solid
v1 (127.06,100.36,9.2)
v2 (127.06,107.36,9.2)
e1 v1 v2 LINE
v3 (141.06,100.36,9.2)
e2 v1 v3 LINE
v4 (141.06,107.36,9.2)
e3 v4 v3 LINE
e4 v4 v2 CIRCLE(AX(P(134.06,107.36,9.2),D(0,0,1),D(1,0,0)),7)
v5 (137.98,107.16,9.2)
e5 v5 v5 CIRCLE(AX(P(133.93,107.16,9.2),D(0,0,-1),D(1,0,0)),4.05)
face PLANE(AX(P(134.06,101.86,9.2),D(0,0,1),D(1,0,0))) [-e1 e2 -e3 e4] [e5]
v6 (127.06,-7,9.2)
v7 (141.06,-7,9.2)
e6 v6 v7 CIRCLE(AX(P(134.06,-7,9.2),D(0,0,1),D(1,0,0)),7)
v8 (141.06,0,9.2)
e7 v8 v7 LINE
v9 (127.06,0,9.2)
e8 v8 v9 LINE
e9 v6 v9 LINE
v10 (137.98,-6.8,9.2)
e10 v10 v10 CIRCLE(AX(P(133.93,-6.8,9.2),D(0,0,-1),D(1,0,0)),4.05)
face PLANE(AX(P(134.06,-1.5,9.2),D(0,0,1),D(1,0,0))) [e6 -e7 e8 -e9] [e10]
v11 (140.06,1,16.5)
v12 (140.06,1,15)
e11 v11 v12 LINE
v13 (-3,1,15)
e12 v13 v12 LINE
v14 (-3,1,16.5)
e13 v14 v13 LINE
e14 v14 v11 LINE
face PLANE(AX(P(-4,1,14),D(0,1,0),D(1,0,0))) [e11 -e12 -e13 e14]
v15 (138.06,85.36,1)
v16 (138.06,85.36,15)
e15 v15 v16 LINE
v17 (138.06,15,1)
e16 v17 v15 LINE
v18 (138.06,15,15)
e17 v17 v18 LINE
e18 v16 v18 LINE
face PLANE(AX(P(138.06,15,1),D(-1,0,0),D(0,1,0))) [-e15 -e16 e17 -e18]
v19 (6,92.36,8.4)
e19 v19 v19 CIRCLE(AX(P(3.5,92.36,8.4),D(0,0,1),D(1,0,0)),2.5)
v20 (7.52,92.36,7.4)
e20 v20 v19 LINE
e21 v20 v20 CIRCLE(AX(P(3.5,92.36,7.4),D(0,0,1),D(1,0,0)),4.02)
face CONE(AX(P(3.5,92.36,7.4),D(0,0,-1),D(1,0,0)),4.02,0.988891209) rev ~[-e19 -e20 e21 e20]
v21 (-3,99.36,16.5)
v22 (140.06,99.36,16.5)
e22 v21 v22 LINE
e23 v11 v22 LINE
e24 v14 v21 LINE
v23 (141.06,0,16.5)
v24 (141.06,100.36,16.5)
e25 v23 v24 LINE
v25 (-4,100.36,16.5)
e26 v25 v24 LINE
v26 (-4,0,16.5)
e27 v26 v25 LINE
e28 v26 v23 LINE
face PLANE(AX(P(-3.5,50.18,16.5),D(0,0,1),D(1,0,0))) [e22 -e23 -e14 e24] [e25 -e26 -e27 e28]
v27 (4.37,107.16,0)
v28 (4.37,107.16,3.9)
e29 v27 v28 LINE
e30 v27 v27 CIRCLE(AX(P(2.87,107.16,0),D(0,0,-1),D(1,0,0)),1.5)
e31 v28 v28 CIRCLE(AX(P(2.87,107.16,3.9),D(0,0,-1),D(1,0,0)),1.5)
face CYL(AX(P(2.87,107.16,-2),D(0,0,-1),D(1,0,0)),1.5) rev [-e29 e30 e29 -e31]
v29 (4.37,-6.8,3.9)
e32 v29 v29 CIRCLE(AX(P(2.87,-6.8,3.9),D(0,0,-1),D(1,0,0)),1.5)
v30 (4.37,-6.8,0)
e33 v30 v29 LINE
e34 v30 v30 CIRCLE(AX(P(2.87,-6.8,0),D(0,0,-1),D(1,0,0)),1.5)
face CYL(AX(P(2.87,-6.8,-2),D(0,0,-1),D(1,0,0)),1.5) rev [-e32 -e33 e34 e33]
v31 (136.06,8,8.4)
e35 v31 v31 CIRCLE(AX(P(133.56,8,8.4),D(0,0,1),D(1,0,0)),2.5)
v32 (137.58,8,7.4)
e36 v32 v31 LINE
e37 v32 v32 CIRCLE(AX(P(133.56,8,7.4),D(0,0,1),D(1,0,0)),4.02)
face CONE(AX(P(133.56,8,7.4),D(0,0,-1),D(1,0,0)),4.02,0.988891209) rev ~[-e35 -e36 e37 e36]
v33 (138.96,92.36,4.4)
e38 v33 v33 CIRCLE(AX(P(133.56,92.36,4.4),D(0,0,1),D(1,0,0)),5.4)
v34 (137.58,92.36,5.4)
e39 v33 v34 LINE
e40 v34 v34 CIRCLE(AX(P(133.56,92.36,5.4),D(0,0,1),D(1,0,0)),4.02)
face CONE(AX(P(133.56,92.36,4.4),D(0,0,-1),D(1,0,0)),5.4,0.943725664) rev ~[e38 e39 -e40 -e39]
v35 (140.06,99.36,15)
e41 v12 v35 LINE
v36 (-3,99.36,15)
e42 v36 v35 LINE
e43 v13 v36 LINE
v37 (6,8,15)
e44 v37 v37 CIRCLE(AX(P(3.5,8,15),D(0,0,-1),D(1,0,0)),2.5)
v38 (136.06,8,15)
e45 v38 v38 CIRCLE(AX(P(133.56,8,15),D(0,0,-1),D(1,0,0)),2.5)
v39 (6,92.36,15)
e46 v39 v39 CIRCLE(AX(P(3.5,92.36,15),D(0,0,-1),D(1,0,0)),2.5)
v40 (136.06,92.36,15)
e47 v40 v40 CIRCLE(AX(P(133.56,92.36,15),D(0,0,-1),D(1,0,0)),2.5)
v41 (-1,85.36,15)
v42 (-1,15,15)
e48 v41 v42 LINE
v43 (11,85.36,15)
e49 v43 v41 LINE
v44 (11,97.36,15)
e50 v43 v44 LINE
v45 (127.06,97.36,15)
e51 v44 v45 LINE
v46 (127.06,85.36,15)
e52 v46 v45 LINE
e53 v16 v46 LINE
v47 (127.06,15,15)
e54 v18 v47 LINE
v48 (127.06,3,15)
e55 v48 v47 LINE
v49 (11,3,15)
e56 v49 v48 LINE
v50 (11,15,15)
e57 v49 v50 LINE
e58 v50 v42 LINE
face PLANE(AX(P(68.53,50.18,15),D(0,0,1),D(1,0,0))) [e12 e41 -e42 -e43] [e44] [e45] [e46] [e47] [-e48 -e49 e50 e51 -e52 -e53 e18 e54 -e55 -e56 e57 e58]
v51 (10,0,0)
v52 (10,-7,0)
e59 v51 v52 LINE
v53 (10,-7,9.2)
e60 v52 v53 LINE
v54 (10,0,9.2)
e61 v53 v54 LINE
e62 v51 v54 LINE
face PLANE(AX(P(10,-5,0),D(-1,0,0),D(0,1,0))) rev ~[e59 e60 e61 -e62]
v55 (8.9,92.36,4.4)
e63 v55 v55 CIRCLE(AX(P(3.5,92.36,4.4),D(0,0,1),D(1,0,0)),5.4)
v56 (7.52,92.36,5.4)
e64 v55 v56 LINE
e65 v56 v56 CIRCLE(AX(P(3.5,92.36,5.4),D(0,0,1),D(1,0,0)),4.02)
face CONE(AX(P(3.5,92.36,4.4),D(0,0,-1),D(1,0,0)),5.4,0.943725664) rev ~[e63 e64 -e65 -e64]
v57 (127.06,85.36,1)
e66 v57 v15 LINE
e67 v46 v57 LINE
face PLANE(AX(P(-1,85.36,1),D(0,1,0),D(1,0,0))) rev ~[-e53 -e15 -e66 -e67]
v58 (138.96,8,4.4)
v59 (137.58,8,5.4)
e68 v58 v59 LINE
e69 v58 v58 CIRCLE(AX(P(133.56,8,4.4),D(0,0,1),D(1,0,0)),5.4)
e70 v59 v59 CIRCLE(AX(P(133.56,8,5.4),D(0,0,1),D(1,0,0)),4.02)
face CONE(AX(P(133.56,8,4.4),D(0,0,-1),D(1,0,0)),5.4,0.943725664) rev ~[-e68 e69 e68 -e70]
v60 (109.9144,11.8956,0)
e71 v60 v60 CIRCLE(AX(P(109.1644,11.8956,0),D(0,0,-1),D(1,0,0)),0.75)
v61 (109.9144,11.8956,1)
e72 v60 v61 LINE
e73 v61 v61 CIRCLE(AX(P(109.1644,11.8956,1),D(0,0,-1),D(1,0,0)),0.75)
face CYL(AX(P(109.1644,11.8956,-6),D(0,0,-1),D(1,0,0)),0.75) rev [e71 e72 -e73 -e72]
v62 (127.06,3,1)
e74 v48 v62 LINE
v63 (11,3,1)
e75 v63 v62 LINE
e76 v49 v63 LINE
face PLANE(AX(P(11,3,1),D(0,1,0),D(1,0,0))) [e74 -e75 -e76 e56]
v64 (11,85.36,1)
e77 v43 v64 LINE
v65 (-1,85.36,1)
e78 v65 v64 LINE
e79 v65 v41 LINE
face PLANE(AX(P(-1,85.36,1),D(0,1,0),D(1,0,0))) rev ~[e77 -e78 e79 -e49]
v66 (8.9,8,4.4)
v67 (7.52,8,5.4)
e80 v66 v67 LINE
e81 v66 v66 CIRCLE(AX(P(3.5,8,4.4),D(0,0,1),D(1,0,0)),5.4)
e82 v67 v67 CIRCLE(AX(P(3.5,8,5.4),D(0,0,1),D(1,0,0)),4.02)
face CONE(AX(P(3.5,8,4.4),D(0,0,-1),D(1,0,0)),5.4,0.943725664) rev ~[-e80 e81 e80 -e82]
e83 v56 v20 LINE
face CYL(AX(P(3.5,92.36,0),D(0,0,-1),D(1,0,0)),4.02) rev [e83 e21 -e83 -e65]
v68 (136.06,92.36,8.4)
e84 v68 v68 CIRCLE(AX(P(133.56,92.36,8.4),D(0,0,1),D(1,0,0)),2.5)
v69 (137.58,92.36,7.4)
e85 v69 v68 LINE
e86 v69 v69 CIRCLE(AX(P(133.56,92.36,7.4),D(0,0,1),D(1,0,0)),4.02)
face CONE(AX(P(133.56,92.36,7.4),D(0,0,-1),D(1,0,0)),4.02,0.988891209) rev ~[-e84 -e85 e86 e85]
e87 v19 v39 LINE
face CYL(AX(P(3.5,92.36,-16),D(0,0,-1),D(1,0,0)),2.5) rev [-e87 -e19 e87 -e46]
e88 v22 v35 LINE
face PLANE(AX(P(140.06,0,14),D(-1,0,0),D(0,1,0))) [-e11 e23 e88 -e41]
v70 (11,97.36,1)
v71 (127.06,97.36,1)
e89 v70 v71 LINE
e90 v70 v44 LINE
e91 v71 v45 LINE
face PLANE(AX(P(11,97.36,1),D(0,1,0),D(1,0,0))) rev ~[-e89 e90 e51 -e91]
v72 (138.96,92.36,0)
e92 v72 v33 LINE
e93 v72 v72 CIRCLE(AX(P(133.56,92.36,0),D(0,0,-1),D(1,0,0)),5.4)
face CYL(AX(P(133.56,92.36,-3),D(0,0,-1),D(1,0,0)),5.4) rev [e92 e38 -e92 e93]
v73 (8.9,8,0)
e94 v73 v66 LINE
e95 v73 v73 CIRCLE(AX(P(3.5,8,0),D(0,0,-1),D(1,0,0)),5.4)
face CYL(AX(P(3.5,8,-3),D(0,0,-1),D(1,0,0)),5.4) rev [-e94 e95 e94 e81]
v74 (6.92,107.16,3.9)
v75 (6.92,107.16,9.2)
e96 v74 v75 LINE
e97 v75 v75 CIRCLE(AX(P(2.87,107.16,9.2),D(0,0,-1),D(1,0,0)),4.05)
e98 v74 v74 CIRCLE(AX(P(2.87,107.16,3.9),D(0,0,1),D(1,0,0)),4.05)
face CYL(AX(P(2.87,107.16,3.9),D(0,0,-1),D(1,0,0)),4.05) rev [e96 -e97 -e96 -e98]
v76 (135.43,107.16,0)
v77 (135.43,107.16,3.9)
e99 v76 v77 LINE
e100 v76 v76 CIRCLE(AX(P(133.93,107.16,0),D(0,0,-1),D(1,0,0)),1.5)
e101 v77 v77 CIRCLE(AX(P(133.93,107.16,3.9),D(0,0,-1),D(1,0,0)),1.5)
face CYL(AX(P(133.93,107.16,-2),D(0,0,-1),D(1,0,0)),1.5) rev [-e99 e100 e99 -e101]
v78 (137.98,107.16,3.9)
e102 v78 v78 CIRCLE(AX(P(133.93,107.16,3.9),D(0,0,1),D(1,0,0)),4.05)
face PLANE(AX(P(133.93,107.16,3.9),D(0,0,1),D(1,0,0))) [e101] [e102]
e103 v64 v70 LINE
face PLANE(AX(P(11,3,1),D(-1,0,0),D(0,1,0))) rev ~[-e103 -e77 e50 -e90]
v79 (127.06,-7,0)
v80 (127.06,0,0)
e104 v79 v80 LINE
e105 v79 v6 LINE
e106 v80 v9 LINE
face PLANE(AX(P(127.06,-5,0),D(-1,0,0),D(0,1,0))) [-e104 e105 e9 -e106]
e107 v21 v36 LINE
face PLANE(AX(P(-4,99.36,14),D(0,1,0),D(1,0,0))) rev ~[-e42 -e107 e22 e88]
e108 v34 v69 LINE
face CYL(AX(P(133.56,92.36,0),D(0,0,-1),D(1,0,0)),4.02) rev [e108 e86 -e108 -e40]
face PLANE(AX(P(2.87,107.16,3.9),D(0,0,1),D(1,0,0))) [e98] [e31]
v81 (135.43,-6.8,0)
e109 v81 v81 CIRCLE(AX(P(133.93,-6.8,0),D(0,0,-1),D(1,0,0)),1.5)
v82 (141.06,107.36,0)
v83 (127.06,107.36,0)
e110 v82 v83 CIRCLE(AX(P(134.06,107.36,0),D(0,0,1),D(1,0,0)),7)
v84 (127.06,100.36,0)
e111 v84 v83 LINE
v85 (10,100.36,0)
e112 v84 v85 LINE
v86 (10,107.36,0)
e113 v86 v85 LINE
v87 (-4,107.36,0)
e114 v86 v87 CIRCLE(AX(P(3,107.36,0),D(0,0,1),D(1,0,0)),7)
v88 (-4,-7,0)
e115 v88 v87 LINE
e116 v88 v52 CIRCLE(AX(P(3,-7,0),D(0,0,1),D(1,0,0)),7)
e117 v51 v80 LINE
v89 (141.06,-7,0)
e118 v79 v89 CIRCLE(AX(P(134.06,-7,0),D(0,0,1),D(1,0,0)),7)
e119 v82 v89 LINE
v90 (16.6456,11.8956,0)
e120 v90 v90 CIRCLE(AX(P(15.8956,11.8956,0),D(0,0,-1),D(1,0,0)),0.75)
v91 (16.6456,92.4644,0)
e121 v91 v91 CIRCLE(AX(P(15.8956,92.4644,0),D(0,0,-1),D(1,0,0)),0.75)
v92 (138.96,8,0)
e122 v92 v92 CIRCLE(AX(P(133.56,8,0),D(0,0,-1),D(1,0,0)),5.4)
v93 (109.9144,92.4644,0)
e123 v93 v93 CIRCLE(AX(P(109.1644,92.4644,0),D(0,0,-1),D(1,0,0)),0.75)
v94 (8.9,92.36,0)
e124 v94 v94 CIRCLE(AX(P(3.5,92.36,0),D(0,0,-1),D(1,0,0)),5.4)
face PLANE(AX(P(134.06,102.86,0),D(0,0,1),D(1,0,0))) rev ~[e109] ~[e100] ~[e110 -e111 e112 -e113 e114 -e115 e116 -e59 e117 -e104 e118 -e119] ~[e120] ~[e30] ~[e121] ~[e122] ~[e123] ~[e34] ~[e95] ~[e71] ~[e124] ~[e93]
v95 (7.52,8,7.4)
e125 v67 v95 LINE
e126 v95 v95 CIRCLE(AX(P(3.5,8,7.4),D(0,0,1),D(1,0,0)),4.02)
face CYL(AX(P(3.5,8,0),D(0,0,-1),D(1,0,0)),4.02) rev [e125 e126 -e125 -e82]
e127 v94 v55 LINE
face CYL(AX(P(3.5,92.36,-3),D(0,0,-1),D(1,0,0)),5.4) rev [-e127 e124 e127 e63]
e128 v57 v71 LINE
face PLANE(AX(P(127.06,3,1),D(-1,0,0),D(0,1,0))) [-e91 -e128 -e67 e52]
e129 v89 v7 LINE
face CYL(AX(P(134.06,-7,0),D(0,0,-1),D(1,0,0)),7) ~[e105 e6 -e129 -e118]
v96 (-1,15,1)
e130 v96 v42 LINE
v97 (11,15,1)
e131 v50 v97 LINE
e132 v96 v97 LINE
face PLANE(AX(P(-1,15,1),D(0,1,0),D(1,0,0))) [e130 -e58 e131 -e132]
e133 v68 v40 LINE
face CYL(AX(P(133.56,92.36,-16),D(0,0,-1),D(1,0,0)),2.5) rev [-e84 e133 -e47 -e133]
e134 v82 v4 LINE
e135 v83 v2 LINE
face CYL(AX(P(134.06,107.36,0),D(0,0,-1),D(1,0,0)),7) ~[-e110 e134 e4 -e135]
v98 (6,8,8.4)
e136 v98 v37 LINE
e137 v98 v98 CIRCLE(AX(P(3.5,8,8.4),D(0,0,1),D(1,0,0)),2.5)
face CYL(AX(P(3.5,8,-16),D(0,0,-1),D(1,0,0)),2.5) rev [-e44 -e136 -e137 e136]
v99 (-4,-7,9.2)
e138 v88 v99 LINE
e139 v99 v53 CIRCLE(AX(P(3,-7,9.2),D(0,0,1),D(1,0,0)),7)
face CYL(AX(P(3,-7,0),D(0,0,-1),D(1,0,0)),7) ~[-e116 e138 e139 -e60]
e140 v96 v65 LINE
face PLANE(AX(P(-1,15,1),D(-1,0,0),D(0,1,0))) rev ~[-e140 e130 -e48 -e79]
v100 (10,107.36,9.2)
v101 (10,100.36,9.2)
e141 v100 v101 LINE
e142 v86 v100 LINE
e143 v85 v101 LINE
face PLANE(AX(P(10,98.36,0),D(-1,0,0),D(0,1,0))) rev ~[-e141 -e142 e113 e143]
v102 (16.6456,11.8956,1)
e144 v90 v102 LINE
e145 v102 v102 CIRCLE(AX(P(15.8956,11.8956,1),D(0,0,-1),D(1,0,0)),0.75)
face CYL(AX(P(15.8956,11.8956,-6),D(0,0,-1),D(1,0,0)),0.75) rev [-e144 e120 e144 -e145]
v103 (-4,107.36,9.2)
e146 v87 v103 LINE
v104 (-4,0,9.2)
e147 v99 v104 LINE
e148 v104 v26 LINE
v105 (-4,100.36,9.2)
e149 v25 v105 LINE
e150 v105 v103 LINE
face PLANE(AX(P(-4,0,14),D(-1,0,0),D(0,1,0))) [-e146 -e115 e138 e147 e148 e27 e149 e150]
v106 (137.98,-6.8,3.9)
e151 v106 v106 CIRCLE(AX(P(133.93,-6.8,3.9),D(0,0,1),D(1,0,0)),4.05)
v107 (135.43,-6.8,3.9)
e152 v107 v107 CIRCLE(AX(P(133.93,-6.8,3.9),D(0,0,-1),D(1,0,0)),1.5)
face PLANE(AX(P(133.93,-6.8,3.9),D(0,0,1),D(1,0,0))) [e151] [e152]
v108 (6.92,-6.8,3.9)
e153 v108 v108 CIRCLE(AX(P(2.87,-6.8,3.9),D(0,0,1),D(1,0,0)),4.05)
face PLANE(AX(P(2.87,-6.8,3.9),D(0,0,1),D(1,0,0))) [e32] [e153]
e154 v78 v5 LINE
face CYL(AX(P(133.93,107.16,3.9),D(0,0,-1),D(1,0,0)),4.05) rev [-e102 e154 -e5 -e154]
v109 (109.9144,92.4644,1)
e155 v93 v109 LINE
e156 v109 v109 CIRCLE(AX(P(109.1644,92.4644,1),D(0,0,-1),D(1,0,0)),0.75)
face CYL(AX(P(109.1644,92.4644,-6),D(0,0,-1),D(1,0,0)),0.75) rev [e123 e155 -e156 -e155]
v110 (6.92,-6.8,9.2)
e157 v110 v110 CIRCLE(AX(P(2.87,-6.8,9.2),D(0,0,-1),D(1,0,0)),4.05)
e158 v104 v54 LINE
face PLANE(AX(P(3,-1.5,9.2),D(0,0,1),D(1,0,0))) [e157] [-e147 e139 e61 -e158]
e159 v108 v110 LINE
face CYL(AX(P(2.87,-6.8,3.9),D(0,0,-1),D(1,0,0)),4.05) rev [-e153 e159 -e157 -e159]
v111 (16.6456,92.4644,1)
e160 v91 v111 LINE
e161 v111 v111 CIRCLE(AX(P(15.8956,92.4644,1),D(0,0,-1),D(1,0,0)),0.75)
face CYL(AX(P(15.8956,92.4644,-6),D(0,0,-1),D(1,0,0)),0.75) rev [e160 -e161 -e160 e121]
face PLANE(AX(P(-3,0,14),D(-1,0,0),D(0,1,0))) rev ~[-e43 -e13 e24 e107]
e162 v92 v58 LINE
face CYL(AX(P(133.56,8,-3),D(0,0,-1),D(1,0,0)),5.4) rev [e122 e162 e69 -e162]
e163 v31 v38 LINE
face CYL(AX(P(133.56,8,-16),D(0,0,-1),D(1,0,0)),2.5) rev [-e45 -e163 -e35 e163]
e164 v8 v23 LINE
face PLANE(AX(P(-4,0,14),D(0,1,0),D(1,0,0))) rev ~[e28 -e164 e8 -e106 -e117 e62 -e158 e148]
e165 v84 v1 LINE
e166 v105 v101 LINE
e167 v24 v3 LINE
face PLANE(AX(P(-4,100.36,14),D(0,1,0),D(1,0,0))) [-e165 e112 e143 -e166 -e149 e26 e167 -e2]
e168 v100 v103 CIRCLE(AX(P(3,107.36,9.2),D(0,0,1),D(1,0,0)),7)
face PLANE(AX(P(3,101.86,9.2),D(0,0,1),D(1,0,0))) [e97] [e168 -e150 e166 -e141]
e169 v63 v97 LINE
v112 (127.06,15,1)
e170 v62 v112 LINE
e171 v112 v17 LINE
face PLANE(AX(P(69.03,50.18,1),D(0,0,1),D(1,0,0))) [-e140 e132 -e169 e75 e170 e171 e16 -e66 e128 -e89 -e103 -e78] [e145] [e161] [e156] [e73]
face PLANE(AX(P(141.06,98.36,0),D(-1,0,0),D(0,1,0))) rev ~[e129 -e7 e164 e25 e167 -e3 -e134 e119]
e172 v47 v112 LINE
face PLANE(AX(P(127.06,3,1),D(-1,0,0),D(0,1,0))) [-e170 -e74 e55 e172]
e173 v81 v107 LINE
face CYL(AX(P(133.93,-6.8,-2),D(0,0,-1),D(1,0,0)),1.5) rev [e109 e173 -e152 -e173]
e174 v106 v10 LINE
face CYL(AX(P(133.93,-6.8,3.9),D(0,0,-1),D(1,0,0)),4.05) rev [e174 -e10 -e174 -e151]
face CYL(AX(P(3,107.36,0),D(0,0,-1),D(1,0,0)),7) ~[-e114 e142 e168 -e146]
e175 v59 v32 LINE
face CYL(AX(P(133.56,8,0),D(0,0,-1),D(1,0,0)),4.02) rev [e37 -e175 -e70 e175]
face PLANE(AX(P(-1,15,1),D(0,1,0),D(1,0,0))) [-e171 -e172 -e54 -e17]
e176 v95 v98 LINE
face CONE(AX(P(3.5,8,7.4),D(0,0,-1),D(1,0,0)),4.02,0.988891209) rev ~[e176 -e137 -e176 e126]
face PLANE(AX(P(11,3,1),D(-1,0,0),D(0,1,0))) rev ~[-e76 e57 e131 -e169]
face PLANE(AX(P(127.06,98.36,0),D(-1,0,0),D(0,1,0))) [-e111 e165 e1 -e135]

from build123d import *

# Parameters (mm, degrees)
CYLINDER034_R     = 0.75
CYLINDER034_DEPTH = 23
ARRAY041_X_COUNT  = 2
ARRAY041_X_PITCH  = 93.2688
ARRAY041_Y_COUNT  = 2
ARRAY041_Y_PITCH  = 80.5688
BOX023_W          = 139.06
BOX023_H          = 70.36
BOX023_DEPTH      = 16
CYLINDER033_R     = 5.4
CYLINDER033_DEPTH = 7.4
ARRAY040_X_COUNT  = 2
ARRAY040_X_PITCH  = 130.06
ARRAY040_Y_COUNT  = 2
ARRAY040_Y_PITCH  = 84.36
ARRAY039_X_COUNT  = 2
ARRAY039_X_PITCH  = 130.06
ARRAY039_Y_COUNT  = 2
ARRAY039_Y_PITCH  = 84.36
BOX022_W          = 116.06
BOX022_H          = 94.36
BOX022_DEPTH      = 10
CYLINDER025_R     = 1.5
CYLINDER025_DEPTH = 9
ARRAY032_X_COUNT  = 2
ARRAY032_X_PITCH  = 131.06
ARRAY032_Y_COUNT  = 2
ARRAY032_Y_PITCH  = 113.96
CYLINDER026_R     = 4.05
CYLINDER026_DEPTH = 5.4
ARRAY033_X_COUNT  = 2
ARRAY033_X_PITCH  = 131.06
ARRAY033_Y_COUNT  = 2
ARRAY033_Y_PITCH  = 113.96
CYLINDER024_R     = 1
CYLINDER024_DEPTH = 30
ARRAY031_X_COUNT  = 2
ARRAY031_X_PITCH  = 93.2688
ARRAY031_Y_COUNT  = 2
ARRAY031_Y_PITCH  = 80.5688
ARRAY029_X_COUNT  = 2
ARRAY029_X_PITCH  = 93.2688
ARRAY029_Y_COUNT  = 2
ARRAY029_Y_PITCH  = 80.5688
ARRAY028_X_COUNT  = 2
ARRAY028_X_PITCH  = 130.06
ARRAY028_Y_COUNT  = 2
ARRAY028_Y_PITCH  = 84.36
CYLINDER022_R     = 4.02
CYLINDER022_DEPTH = 7.4
ARRAY026_X_COUNT  = 2
ARRAY026_X_PITCH  = 130.06
ARRAY026_Y_COUNT  = 2
ARRAY026_Y_PITCH  = 84.36
CYLINDER018_R     = 4.05
CYLINDER018_DEPTH = 5.4
ARRAY021_X_COUNT  = 2
ARRAY021_X_PITCH  = 131.06
ARRAY021_Y_COUNT  = 2
ARRAY021_Y_PITCH  = 110.36
CYLINDER021_R     = 2.15
CYLINDER021_DEPTH = 3.8
ARRAY025_X_COUNT  = 2
ARRAY025_X_PITCH  = 130.06
ARRAY025_Y_COUNT  = 2
ARRAY025_Y_PITCH  = 84.36
CYLINDER020_R     = 2.5
CYLINDER020_DEPTH = 40
ARRAY024_X_COUNT  = 2
ARRAY024_X_PITCH  = 130.06
ARRAY024_Y_COUNT  = 2
ARRAY024_Y_PITCH  = 84.36
CYLINDER019_R     = 2.5
CYLINDER019_DEPTH = 10
ARRAY022_X_COUNT  = 2
ARRAY022_X_PITCH  = 131.06
ARRAY022_Y_COUNT  = 2
ARRAY022_Y_PITCH  = 110.36
ARRAY020_X_COUNT  = 2
ARRAY020_X_PITCH  = 131.06
ARRAY020_Y_COUNT  = 2
ARRAY020_Y_PITCH  = 110.36
CYLINDER017_R     = 3.05
CYLINDER017_DEPTH = 3
ARRAY018_X_COUNT  = 2
ARRAY018_X_PITCH  = 93.2688
ARRAY018_Y_COUNT  = 2
ARRAY018_Y_PITCH  = 80.5688
CYLINDER016_R     = 1
CYLINDER016_DEPTH = 30
ARRAY017_X_COUNT  = 2
ARRAY017_X_PITCH  = 93.2688
ARRAY017_Y_COUNT  = 2
ARRAY017_Y_PITCH  = 80.5688
BOX016_W          = 100
BOX016_H          = 94.36
BOX016_DEPTH      = 10
ARRAY014_X_COUNT  = 2
ARRAY014_X_PITCH  = 131.06
ARRAY014_Y_COUNT  = 2
ARRAY014_Y_PITCH  = 110.36
CYLINDER014_R     = 2.2
CYLINDER014_DEPTH = 4
ARRAY015_X_COUNT  = 2
ARRAY015_X_PITCH  = 131.06
ARRAY015_Y_COUNT  = 2
ARRAY015_Y_PITCH  = 110.36
CYLINDER013_R     = 1.25
CYLINDER013_DEPTH = 10
ARRAY013_X_COUNT  = 2
ARRAY013_X_PITCH  = 131.06
ARRAY013_Y_COUNT  = 2
ARRAY013_Y_PITCH  = 110.36
BOX015_W          = 14
BOX015_H          = 7
BOX015_DEPTH      = 9.2
CYLINDER012_R     = 7
CYLINDER012_DEPTH = 9.2
ARRAY010_X_COUNT  = 2
ARRAY010_X_PITCH  = 131.06
BOX014_W          = 14
BOX014_H          = 7
BOX014_DEPTH      = 9.2
CYLINDER011_R     = 7
CYLINDER011_DEPTH = 9.2
ARRAY011_X_COUNT  = 2
ARRAY011_X_PITCH  = 131.06
CYLINDER_R        = 1.75
CYLINDER_DEPTH    = 40
CYLINDER001_R     = 4.5
CYLINDER001_DEPTH = 1
ARRAY001_X_COUNT  = 2
ARRAY001_X_PITCH  = 130.06
ARRAY001_Y_COUNT  = 2
ARRAY001_Y_PITCH  = 84.36
BOX004_W          = 11
BOX004_H          = 98
BOX004_DEPTH      = 15
BOX003_W          = 7
BOX003_H          = 10
BOX003_DEPTH      = 9
ARRAY_X_COUNT     = 2
ARRAY_X_PITCH     = 77.06
ARRAY_Y_COUNT     = 2
ARRAY_Y_PITCH     = 90.36
BOX002_W          = 118.06
BOX002_H          = 94.36
BOX002_DEPTH      = 12
BOX_W             = 145.06
BOX_H             = 100.36
BOX_DEPTH         = 15
BOX008_W          = 145.06
BOX008_H          = 1
BOX008_DEPTH      = 2.5
ARRAY004_Y_COUNT  = 2
ARRAY004_Y_PITCH  = 99.36
BOX009_W          = 1
BOX009_H          = 100.36
BOX009_DEPTH      = 2.5
ARRAY005_X_COUNT  = 2
ARRAY005_X_PITCH  = 144.06
BOX019_W          = 12
BOX019_H          = 98
BOX019_DEPTH      = 10
ARRAY023_X_COUNT  = 2
ARRAY023_X_PITCH  = 130
CYLINDER023_R     = 3.05
CYLINDER023_DEPTH = 3
ARRAY030_X_COUNT  = 2
ARRAY030_X_PITCH  = 93.2688
ARRAY030_Y_COUNT  = 2
ARRAY030_Y_PITCH  = 80.5688
BOX020_W          = 14
BOX020_H          = 9
BOX020_DEPTH      = 9.2
CYLINDER027_R     = 7
CYLINDER027_DEPTH = 9.2
ARRAY034_X_COUNT  = 2
ARRAY034_X_PITCH  = 131.06
BOX021_W          = 14
BOX021_H          = 9
BOX021_DEPTH      = 9.2
CYLINDER028_R     = 7
CYLINDER028_DEPTH = 9.2
ARRAY035_X_COUNT  = 2
ARRAY035_X_PITCH  = 131.06
CYLINDER029_R     = 1
CYLINDER029_DEPTH = 1
ARRAY036_X_COUNT  = 2
ARRAY036_X_PITCH  = 93.2688
ARRAY036_Y_COUNT  = 2
ARRAY036_Y_PITCH  = 80.5688
CYLINDER030_R     = 0.75
CYLINDER030_DEPTH = 14
ARRAY037_X_COUNT  = 2
ARRAY037_X_PITCH  = 93.2688
ARRAY037_Y_COUNT  = 2
ARRAY037_Y_PITCH  = 80.5688
ARRAY038_X_COUNT  = 2
ARRAY038_X_PITCH  = 93.2688
ARRAY038_Y_COUNT  = 2
ARRAY038_Y_PITCH  = 80.5688


with BuildPart() as array_holes_pcb_bottom_case004:
    # Cylinder034 → Cylinder034 (new body)
    with BuildSketch(Plane(origin=(15.8956, 11.8956, -6), x_dir=(1, 0, 0), z_dir=(0, 0, 1))):
        Circle(CYLINDER034_R)
    extrude(amount=CYLINDER034_DEPTH)

    # Array041 X: array_holes_PCB_bottom_case004 ×2


with BuildPart() as array_holes_pcb_bottom_case004_1:
    add(array_holes_pcb_bottom_case004.part)
    with Locations(*[(i * ARRAY041_X_PITCH, 0, 0) for i in range(1, ARRAY041_X_COUNT)]):
        add(array_holes_pcb_bottom_case004.part)

    # Array041 Y: array_holes_PCB_bottom_case004 ×2


with BuildPart() as array_holes_pcb_bottom_case004_2:
    add(array_holes_pcb_bottom_case004_1.part)
    with Locations(*[(0, i * ARRAY041_Y_PITCH, 0) for i in range(1, ARRAY041_Y_COUNT)]):
        add(array_holes_pcb_bottom_case004_1.part)


with BuildPart() as cube002:
    # Box023 → Box023 (new body)
    with BuildSketch(Plane(origin=(-1, 15, 1), x_dir=(1, 0, 0), z_dir=(0, 0, 1))):
        with Locations((69.53, 35.18)):
            Rectangle(BOX023_W, BOX023_H)
    extrude(amount=BOX023_DEPTH)


with BuildPart() as array040:
    # Cylinder033 → Cylinder033 (new body)
    with BuildSketch(Plane(origin=(3.5, 8, -3), x_dir=(1, 0, 0), z_dir=(0, 0, 1))):
        Circle(CYLINDER033_R)
    extrude(amount=CYLINDER033_DEPTH)

    # Array040 X: Array040 ×2


with BuildPart() as array040_1:
    add(array040.part)
    with Locations(*[(i * ARRAY040_X_PITCH, 0, 0) for i in range(1, ARRAY040_X_COUNT)]):
        add(array040.part)

    # Array040 Y: Array040 ×2


with BuildPart() as array040_2:
    add(array040_1.part)
    with Locations(*[(0, i * ARRAY040_Y_PITCH, 0) for i in range(1, ARRAY040_Y_COUNT)]):
        add(array040_1.part)


with BuildPart() as array039:
    # Cone007 → Cone007 (revolve)
    with BuildSketch(Plane(origin=(3.5, 8, 4.4), x_dir=(1, 0, 0), z_dir=(0, -1, 0))):
        Polygon((0, 0), (5.4, 0), (4.02, 1), (0, 1), align=None)
    revolve(axis=Axis((3.5, 8, 4.4), (0, 0, 1)))

    # Array039 X: Array039 ×2


with BuildPart() as array039_1:
    add(array039.part)
    with Locations(*[(i * ARRAY039_X_PITCH, 0, 0) for i in range(1, ARRAY039_X_COUNT)]):
        add(array039.part)

    # Array039 Y: Array039 ×2


with BuildPart() as array039_2:
    add(array039_1.part)
    with Locations(*[(0, i * ARRAY039_Y_PITCH, 0) for i in range(1, ARRAY039_Y_COUNT)]):
        add(array039_1.part)


with BuildPart() as cube001:
    # Box022 → Box022 (new body)
    with BuildSketch(Plane(origin=(11, 3, 1), x_dir=(1, 0, 0), z_dir=(0, 0, 1))):
        with Locations((58.03, 47.18)):
            Rectangle(BOX022_W, BOX022_H)
    extrude(amount=BOX022_DEPTH)


with BuildPart() as array_cyl_hole_fastern005:
    # Cylinder025 → Cylinder025 (new body)
    with BuildSketch(Plane(origin=(2.87, -6.8, -2), x_dir=(1, 0, 0), z_dir=(0, 0, 1))):
        Circle(CYLINDER025_R)
    extrude(amount=CYLINDER025_DEPTH)

    # Array032 X: array_cyl_hole_fastern005 ×2


with BuildPart() as array_cyl_hole_fastern005_1:
    add(array_cyl_hole_fastern005.part)
    with Locations(*[(i * ARRAY032_X_PITCH, 0, 0) for i in range(1, ARRAY032_X_COUNT)]):
        add(array_cyl_hole_fastern005.part)

    # Array032 Y: array_cyl_hole_fastern005 ×2


with BuildPart() as array_cyl_hole_fastern005_2:
    add(array_cyl_hole_fastern005_1.part)
    with Locations(*[(0, i * ARRAY032_Y_PITCH, 0) for i in range(1, ARRAY032_Y_COUNT)]):
        add(array_cyl_hole_fastern005_1.part)


with BuildPart() as array_cyl_hole_fastern006:
    # Cylinder026 → Cylinder026 (new body)
    with BuildSketch(Plane(origin=(2.87, -6.8, 3.9), x_dir=(1, 0, 0), z_dir=(0, 0, 1))):
        Circle(CYLINDER026_R)
    extrude(amount=CYLINDER026_DEPTH)

    # Array033 X: array_cyl_hole_fastern006 ×2


with BuildPart() as array_cyl_hole_fastern006_1:
    add(array_cyl_hole_fastern006.part)
    with Locations(*[(i * ARRAY033_X_PITCH, 0, 0) for i in range(1, ARRAY033_X_COUNT)]):
        add(array_cyl_hole_fastern006.part)

    # Array033 Y: array_cyl_hole_fastern006 ×2


with BuildPart() as array_cyl_hole_fastern006_2:
    add(array_cyl_hole_fastern006_1.part)
    with Locations(*[(0, i * ARRAY033_Y_PITCH, 0) for i in range(1, ARRAY033_Y_COUNT)]):
        add(array_cyl_hole_fastern006_1.part)


with BuildPart() as array_holes_pcb_bottom_case001:
    # Cylinder024 → Cylinder024 (new body)
    with BuildSketch(Plane(origin=(15.8956, 9.8956, -12), x_dir=(1, 0, 0), z_dir=(0, 0, 1))):
        Circle(CYLINDER024_R)
    extrude(amount=CYLINDER024_DEPTH)

    # Array031 X: array_holes_PCB_bottom_case001 ×2


with BuildPart() as array_holes_pcb_bottom_case001_1:
    add(array_holes_pcb_bottom_case001.part)
    with Locations(*[(i * ARRAY031_X_PITCH, 0, 0) for i in range(1, ARRAY031_X_COUNT)]):
        add(array_holes_pcb_bottom_case001.part)

    # Array031 Y: array_holes_PCB_bottom_case001 ×2


with BuildPart() as array_holes_pcb_bottom_case001_2:
    add(array_holes_pcb_bottom_case001_1.part)
    with Locations(*[(0, i * ARRAY031_Y_PITCH, 0) for i in range(1, ARRAY031_Y_COUNT)]):
        add(array_holes_pcb_bottom_case001_1.part)


with BuildPart() as array029:
    # Cone005 → Cone005 (revolve)
    with BuildSketch(Plane(origin=(15.8956, 9.8956, 1.8), x_dir=(1, 0, 0), z_dir=(0, -1, 0))):
        Polygon((0, 0), (3.05, 0), (1, 0.5), (0, 0.5), align=None)
    revolve(axis=Axis((15.8956, 9.8956, 1.8), (0, 0, 1)))

    # Array029 X: Array029 ×2


with BuildPart() as array029_1:
    add(array029.part)
    with Locations(*[(i * ARRAY029_X_PITCH, 0, 0) for i in range(1, ARRAY029_X_COUNT)]):
        add(array029.part)

    # Array029 Y: Array029 ×2


with BuildPart() as array029_2:
    add(array029_1.part)
    with Locations(*[(0, i * ARRAY029_Y_PITCH, 0) for i in range(1, ARRAY029_Y_COUNT)]):
        add(array029_1.part)


with BuildPart() as array028:
    # Cone004 → Cone004 (revolve)
    with BuildSketch(Plane(origin=(3.5, 8, 7.4), x_dir=(1, 0, 0), z_dir=(0, -1, 0))):
        Polygon((0, 0), (4.02, 0), (2.5, 1), (0, 1), align=None)
    revolve(axis=Axis((3.5, 8, 7.4), (0, 0, 1)))

    # Array028 X: Array028 ×2


with BuildPart() as array028_1:
    add(array028.part)
    with Locations(*[(i * ARRAY028_X_PITCH, 0, 0) for i in range(1, ARRAY028_X_COUNT)]):
        add(array028.part)

    # Array028 Y: Array028 ×2


with BuildPart() as array028_2:
    add(array028_1.part)
    with Locations(*[(0, i * ARRAY028_Y_PITCH, 0) for i in range(1, ARRAY028_Y_COUNT)]):
        add(array028_1.part)


with BuildPart() as array026:
    # Cylinder022 → Cylinder022 (new body)
    with BuildSketch(Plane(origin=(3.5, 8, 0), x_dir=(1, 0, 0), z_dir=(0, 0, 1))):
        Circle(CYLINDER022_R)
    extrude(amount=CYLINDER022_DEPTH)

    # Array026 X: Array026 ×2


with BuildPart() as array026_1:
    add(array026.part)
    with Locations(*[(i * ARRAY026_X_PITCH, 0, 0) for i in range(1, ARRAY026_X_COUNT)]):
        add(array026.part)

    # Array026 Y: Array026 ×2


with BuildPart() as array026_2:
    add(array026_1.part)
    with Locations(*[(0, i * ARRAY026_Y_PITCH, 0) for i in range(1, ARRAY026_Y_COUNT)]):
        add(array026_1.part)


with BuildPart() as array_cyl_hole_fastern003:
    # Cylinder018 → Cylinder018 (new body)
    with BuildSketch(Plane(origin=(2.87, -4.8, 3.9), x_dir=(1, 0, 0), z_dir=(0, 0, 1))):
        Circle(CYLINDER018_R)
    extrude(amount=CYLINDER018_DEPTH)

    # Array021 X: array_cyl_hole_fastern003 ×2


with BuildPart() as array_cyl_hole_fastern003_1:
    add(array_cyl_hole_fastern003.part)
    with Locations(*[(i * ARRAY021_X_PITCH, 0, 0) for i in range(1, ARRAY021_X_COUNT)]):
        add(array_cyl_hole_fastern003.part)

    # Array021 Y: array_cyl_hole_fastern003 ×2


with BuildPart() as array_cyl_hole_fastern003_2:
    add(array_cyl_hole_fastern003_1.part)
    with Locations(*[(0, i * ARRAY021_Y_PITCH, 0) for i in range(1, ARRAY021_Y_COUNT)]):
        add(array_cyl_hole_fastern003_1.part)


with BuildPart() as array025:
    # Cylinder021 → Cylinder021 (new body)
    with BuildSketch(Plane(origin=(3.5, 8, 0), x_dir=(1, 0, 0), z_dir=(0, 0, 1))):
        Circle(CYLINDER021_R)
    extrude(amount=CYLINDER021_DEPTH)

    # Array025 X: Array025 ×2


with BuildPart() as array025_1:
    add(array025.part)
    with Locations(*[(i * ARRAY025_X_PITCH, 0, 0) for i in range(1, ARRAY025_X_COUNT)]):
        add(array025.part)

    # Array025 Y: Array025 ×2


with BuildPart() as array025_2:
    add(array025_1.part)
    with Locations(*[(0, i * ARRAY025_Y_PITCH, 0) for i in range(1, ARRAY025_Y_COUNT)]):
        add(array025_1.part)


with BuildPart() as array024:
    # Cylinder020 → Cylinder020 (new body)
    with BuildSketch(Plane(origin=(3.5, 8, -16), x_dir=(1, 0, 0), z_dir=(0, 0, 1))):
        Circle(CYLINDER020_R)
    extrude(amount=CYLINDER020_DEPTH)

    # Array024 X: Array024 ×2


with BuildPart() as array024_1:
    add(array024.part)
    with Locations(*[(i * ARRAY024_X_PITCH, 0, 0) for i in range(1, ARRAY024_X_COUNT)]):
        add(array024.part)

    # Array024 Y: Array024 ×2


with BuildPart() as array024_2:
    add(array024_1.part)
    with Locations(*[(0, i * ARRAY024_Y_PITCH, 0) for i in range(1, ARRAY024_Y_COUNT)]):
        add(array024_1.part)


with BuildPart() as array_cyl_hole_fastern004:
    # Cylinder019 → Cylinder019 (new body)
    with BuildSketch(Plane(origin=(2.87, -4.8, -2), x_dir=(1, 0, 0), z_dir=(0, 0, 1))):
        Circle(CYLINDER019_R)
    extrude(amount=CYLINDER019_DEPTH)

    # Array022 X: array_cyl_hole_fastern004 ×2


with BuildPart() as array_cyl_hole_fastern004_1:
    add(array_cyl_hole_fastern004.part)
    with Locations(*[(i * ARRAY022_X_PITCH, 0, 0) for i in range(1, ARRAY022_X_COUNT)]):
        add(array_cyl_hole_fastern004.part)

    # Array022 Y: array_cyl_hole_fastern004 ×2


with BuildPart() as array_cyl_hole_fastern004_2:
    add(array_cyl_hole_fastern004_1.part)
    with Locations(*[(0, i * ARRAY022_Y_PITCH, 0) for i in range(1, ARRAY022_Y_COUNT)]):
        add(array_cyl_hole_fastern004_1.part)


with BuildPart() as array_cone_hole_fastern002:
    # Cone003 → Cone003 (revolve)
    with BuildSketch(Plane(origin=(2.87, -4.8, 2.98), x_dir=(1, 0, 0), z_dir=(0, -1, 0))):
        Polygon((0, 0), (1.25, 0), (2.9, 1.8), (0, 1.8), align=None)
    revolve(axis=Axis((2.87, -4.8, 2.98), (0, 0, 1)))

    # Array020 X: array_cone_hole_fastern002 ×2


with BuildPart() as array_cone_hole_fastern002_1:
    add(array_cone_hole_fastern002.part)
    with Locations(*[(i * ARRAY020_X_PITCH, 0, 0) for i in range(1, ARRAY020_X_COUNT)]):
        add(array_cone_hole_fastern002.part)

    # Array020 Y: array_cone_hole_fastern002 ×2


with BuildPart() as array_cone_hole_fastern002_2:
    add(array_cone_hole_fastern002_1.part)
    with Locations(*[(0, i * ARRAY020_Y_PITCH, 0) for i in range(1, ARRAY020_Y_COUNT)]):
        add(array_cone_hole_fastern002_1.part)


with BuildPart() as array_holes_complementary_pcb:
    # Cylinder017 → Cylinder017 (new body)
    with BuildSketch(Plane(origin=(15.8956, 9.8956, 0), x_dir=(1, 0, 0), z_dir=(0, 0, 1))):
        Circle(CYLINDER017_R)
    extrude(amount=CYLINDER017_DEPTH)

    # Array018 X: array_holes_complementary_PCB ×2


with BuildPart() as array_holes_complementary_pcb_1:
    add(array_holes_complementary_pcb.part)
    with Locations(*[(i * ARRAY018_X_PITCH, 0, 0) for i in range(1, ARRAY018_X_COUNT)]):
        add(array_holes_complementary_pcb.part)

    # Array018 Y: array_holes_complementary_PCB ×2


with BuildPart() as array_holes_complementary_pcb_2:
    add(array_holes_complementary_pcb_1.part)
    with Locations(*[(0, i * ARRAY018_Y_PITCH, 0) for i in range(1, ARRAY018_Y_COUNT)]):
        add(array_holes_complementary_pcb_1.part)


with BuildPart() as array_holes_pcb_bottom_case:
    # Cylinder016 → Cylinder016 (new body)
    with BuildSketch(Plane(origin=(15.8956, 9.8956, -12), x_dir=(1, 0, 0), z_dir=(0, 0, 1))):
        Circle(CYLINDER016_R)
    extrude(amount=CYLINDER016_DEPTH)

    # Array017 X: array_holes_PCB_bottom_case ×2


with BuildPart() as array_holes_pcb_bottom_case_1:
    add(array_holes_pcb_bottom_case.part)
    with Locations(*[(i * ARRAY017_X_PITCH, 0, 0) for i in range(1, ARRAY017_X_COUNT)]):
        add(array_holes_pcb_bottom_case.part)

    # Array017 Y: array_holes_PCB_bottom_case ×2


with BuildPart() as array_holes_pcb_bottom_case_2:
    add(array_holes_pcb_bottom_case_1.part)
    with Locations(*[(0, i * ARRAY017_Y_PITCH, 0) for i in range(1, ARRAY017_Y_COUNT)]):
        add(array_holes_pcb_bottom_case_1.part)


with BuildPart() as erase_supports_bottom:
    # Box016 → Box016 (new body)
    with BuildSketch(Plane(origin=(11, 3, 3), x_dir=(1, 0, 0), z_dir=(0, 0, 1))):
        with Locations((50, 47.18)):
            Rectangle(BOX016_W, BOX016_H)
    extrude(amount=BOX016_DEPTH)


with BuildPart() as array_cone_hole_fastern:
    # Cone001 → Cone001 (revolve)
    with BuildSketch(Plane(origin=(2.87, -4.8, 2.98), x_dir=(1, 0, 0), z_dir=(0, -1, 0))):
        Polygon((0, 0), (1.25, 0), (2.9, 1.8), (0, 1.8), align=None)
    revolve(axis=Axis((2.87, -4.8, 2.98), (0, 0, 1)))

    # Array014 X: array_cone_hole_fastern ×2


with BuildPart() as array_cone_hole_fastern_1:
    add(array_cone_hole_fastern.part)
    with Locations(*[(i * ARRAY014_X_PITCH, 0, 0) for i in range(1, ARRAY014_X_COUNT)]):
        add(array_cone_hole_fastern.part)

    # Array014 Y: array_cone_hole_fastern ×2


with BuildPart() as array_cone_hole_fastern_2:
    add(array_cone_hole_fastern_1.part)
    with Locations(*[(0, i * ARRAY014_Y_PITCH, 0) for i in range(1, ARRAY014_Y_COUNT)]):
        add(array_cone_hole_fastern_1.part)


with BuildPart() as fusion013:
    # Cylinder014 → Cylinder014 (new body)
    with BuildSketch(Plane(origin=(2.87, -4.8, 6.48), x_dir=(1, 0, 0), z_dir=(0, 0, 1))):
        Circle(CYLINDER014_R)
    extrude(amount=CYLINDER014_DEPTH)

    # Array015 X: Fusion013 ×2


with BuildPart() as fusion013_1:
    add(fusion013.part)
    with Locations(*[(i * ARRAY015_X_PITCH, 0, 0) for i in range(1, ARRAY015_X_COUNT)]):
        add(fusion013.part)

    # Array015 Y: Fusion013 ×2


with BuildPart() as fusion013_2:
    add(fusion013_1.part)
    with Locations(*[(0, i * ARRAY015_Y_PITCH, 0) for i in range(1, ARRAY015_Y_COUNT)]):
        add(fusion013_1.part)

    # Fusion013: union array_cone_hole_fastern
    add(array_cone_hole_fastern_2.part)


with BuildPart() as array_cyl_hole_fastern:
    # Cylinder013 → Cylinder013 (new body)
    with BuildSketch(Plane(origin=(2.87, -4.8, -2), x_dir=(1, 0, 0), z_dir=(0, 0, 1))):
        Circle(CYLINDER013_R)
    extrude(amount=CYLINDER013_DEPTH)

    # Array013 X: array_cyl_hole_fastern ×2


with BuildPart() as array_cyl_hole_fastern_1:
    add(array_cyl_hole_fastern.part)
    with Locations(*[(i * ARRAY013_X_PITCH, 0, 0) for i in range(1, ARRAY013_X_COUNT)]):
        add(array_cyl_hole_fastern.part)

    # Array013 Y: array_cyl_hole_fastern ×2


with BuildPart() as array_cyl_hole_fastern_2:
    add(array_cyl_hole_fastern_1.part)
    with Locations(*[(0, i * ARRAY013_Y_PITCH, 0) for i in range(1, ARRAY013_Y_COUNT)]):
        add(array_cyl_hole_fastern_1.part)


with BuildPart() as cube_fix2:
    # Box015 → Box015 (new body)
    with BuildSketch(Plane(origin=(-4, 98.36, 0), x_dir=(1, 0, 0), z_dir=(0, 0, 1))):
        with Locations((7, 3.5)):
            Rectangle(BOX015_W, BOX015_H)
    extrude(amount=BOX015_DEPTH)


with BuildPart() as array_fix2:
    # Cylinder012 → Cylinder012 (new body)
    with BuildSketch(Plane(origin=(3, 105.36, 0), x_dir=(1, 0, 0), z_dir=(0, 0, 1))):
        Circle(CYLINDER012_R)
    extrude(amount=CYLINDER012_DEPTH)

    # Fusion011: union cube_fix2
    add(cube_fix2.part)

    # Array010 X: array_fix2 ×2


with BuildPart() as array_fix2_1:
    add(array_fix2.part)
    with Locations(*[(i * ARRAY010_X_PITCH, 0, 0) for i in range(1, ARRAY010_X_COUNT)]):
        add(array_fix2.part)


with BuildPart() as cube_fix1:
    # Box014 → Box014 (new body)
    with BuildSketch(Plane(origin=(-4, -5, 0), x_dir=(1, 0, 0), z_dir=(0, 0, 1))):
        with Locations((7, 3.5)):
            Rectangle(BOX014_W, BOX014_H)
    extrude(amount=BOX014_DEPTH)


with BuildPart() as array_fix1:
    # Cylinder011 → Cylinder011 (new body)
    with BuildSketch(Plane(origin=(3, -5, 0), x_dir=(1, 0, 0), z_dir=(0, 0, 1))):
        Circle(CYLINDER011_R)
    extrude(amount=CYLINDER011_DEPTH)

    # Fusion010: union cube_fix1
    add(cube_fix1.part)

    # Array011 X: array_fix1 ×2


with BuildPart() as array_fix1_1:
    add(array_fix1.part)
    with Locations(*[(i * ARRAY011_X_PITCH, 0, 0) for i in range(1, ARRAY011_X_COUNT)]):
        add(array_fix1.part)


with BuildPart() as cone:
    # Cone → Cone (revolve)
    with BuildSketch(Plane(origin=(3.5, 14, 1), x_dir=(1, 0, 0), z_dir=(0, -1, 0))):
        Polygon((0, 0), (4.5, 0), (1.75, 3), (0, 3), align=None)
    revolve(axis=Axis((3.5, 14, 1), (0, 0, 1)))


with BuildPart() as fusion002:
    # Cylinder → Cylinder (new body)
    with BuildSketch(Plane(origin=(3.5, 14, -16), x_dir=(1, 0, 0), z_dir=(0, 0, 1))):
        Circle(CYLINDER_R)
    extrude(amount=CYLINDER_DEPTH)

    # Fusion002: union Cone
    add(cone.part)


with BuildPart() as array_holes_bottom_case:
    # Cylinder001 → Cylinder001 (new body)
    with BuildSketch(Plane(origin=(3.5, 14, 0), x_dir=(1, 0, 0), z_dir=(0, 0, 1))):
        Circle(CYLINDER001_R)
    extrude(amount=CYLINDER001_DEPTH)

    # Fusion003: union Fusion002
    add(fusion002.part)


with BuildPart() as array_holes_bottom_case_1:
    # Fusion003 placement: moved
    add(array_holes_bottom_case.part.moved(Location((0, -6, 0))))

    # Array001 X: array_holes_bottom_case ×2


with BuildPart() as array_holes_bottom_case_2:
    add(array_holes_bottom_case_1.part)
    with Locations(*[(i * ARRAY001_X_PITCH, 0, 0) for i in range(1, ARRAY001_X_COUNT)]):
        add(array_holes_bottom_case_1.part)

    # Array001 Y: array_holes_bottom_case ×2


with BuildPart() as array_holes_bottom_case_3:
    add(array_holes_bottom_case_2.part)
    with Locations(*[(0, i * ARRAY001_Y_PITCH, 0) for i in range(1, ARRAY001_Y_COUNT)]):
        add(array_holes_bottom_case_2.part)


with BuildPart() as correcting_pcb_support:
    # Box004 → Box004 (new body)
    with BuildSketch(Plane.XY):
        with Locations((5.5, 49)):
            Rectangle(BOX004_W, BOX004_H)
    extrude(amount=BOX004_DEPTH)


with BuildPart() as array_bottom_case_support_master:
    # Box003 → Box003 (new body)
    with BuildSketch(Plane(origin=(18.5, 0, 0), x_dir=(1, 0, 0), z_dir=(0, 0, 1))):
        with Locations((3.5, 5)):
            Rectangle(BOX003_W, BOX003_H)
    extrude(amount=BOX003_DEPTH)

    # Array X: array_bottom_case_support_master ×2


with BuildPart() as array_bottom_case_support_master_1:
    add(array_bottom_case_support_master.part)
    with Locations(*[(i * ARRAY_X_PITCH, 0, 0) for i in range(1, ARRAY_X_COUNT)]):
        add(array_bottom_case_support_master.part)

    # Array Y: array_bottom_case_support_master ×2


with BuildPart() as array_bottom_case_support_master_2:
    add(array_bottom_case_support_master_1.part)
    with Locations(*[(0, i * ARRAY_Y_PITCH, 0) for i in range(1, ARRAY_Y_COUNT)]):
        add(array_bottom_case_support_master_1.part)


with BuildPart() as bottom_case_master_emptying:
    # Box002 → Box002 (new body)
    with BuildSketch(Plane(origin=(9, 3, 3), x_dir=(1, 0, 0), z_dir=(0, 0, 1))):
        with Locations((59.03, 47.18)):
            Rectangle(BOX002_W, BOX002_H)
    extrude(amount=BOX002_DEPTH)


with BuildPart() as bottom_case:
    # Box → Box (new body)
    with BuildSketch(Plane(origin=(-4, 0, 0), x_dir=(1, 0, 0), z_dir=(0, 0, 1))):
        with Locations((72.53, 50.18)):
            Rectangle(BOX_W, BOX_H)
    extrude(amount=BOX_DEPTH)

    # Cut: cut bottom_case_master_emptying
    add(bottom_case_master_emptying.part, mode=Mode.SUBTRACT)

    # Fusion: union array_bottom_case_support_master
    add(array_bottom_case_support_master_2.part)

    # Fusion001: union correcting_PCB_support
    add(correcting_pcb_support.part)

    # Cut001: cut array_holes_bottom_case
    add(array_holes_bottom_case_3.part, mode=Mode.SUBTRACT)


with BuildPart() as fusion005:
    # Box008 → Box008 (new body)
    with BuildSketch(Plane(origin=(-4, 0, 14), x_dir=(1, 0, 0), z_dir=(0, 0, 1))):
        with Locations((72.53, 0.5)):
            Rectangle(BOX008_W, BOX008_H)
    extrude(amount=BOX008_DEPTH)

    # Array004 Y: Fusion005 ×2


with BuildPart() as fusion005_1:
    add(fusion005.part)
    with Locations(*[(0, i * ARRAY004_Y_PITCH, 0) for i in range(1, ARRAY004_Y_COUNT)]):
        add(fusion005.part)

    # Fusion005: union bottom_case
    add(bottom_case.part)


with BuildPart() as cut019:
    # Box009 → Box009 (new body)
    with BuildSketch(Plane(origin=(-4, 0, 14), x_dir=(1, 0, 0), z_dir=(0, 0, 1))):
        with Locations((0.5, 50.18)):
            Rectangle(BOX009_W, BOX009_H)
    extrude(amount=BOX009_DEPTH)

    # Array005 X: Cut019 ×2


with BuildPart() as cut019_1:
    add(cut019.part)
    with Locations(*[(i * ARRAY005_X_PITCH, 0, 0) for i in range(1, ARRAY005_X_COUNT)]):
        add(cut019.part)

    # Fusion006: union Fusion005
    add(fusion005_1.part)

    # Fusion012: union array_fix2, array_fix1
    add(array_fix2_1.part)
    add(array_fix1_1.part)

    # Cut012: cut array_cyl_hole_fastern
    add(array_cyl_hole_fastern_2.part, mode=Mode.SUBTRACT)

    # Cut013: cut Fusion013
    add(fusion013_2.part, mode=Mode.SUBTRACT)

    # Cut014: cut erase_supports_bottom
    add(erase_supports_bottom.part, mode=Mode.SUBTRACT)

    # Cut017: cut array_holes_PCB_bottom_case
    add(array_holes_pcb_bottom_case_2.part, mode=Mode.SUBTRACT)

    # Cut018: cut array_holes_complementary_PCB
    add(array_holes_complementary_pcb_2.part, mode=Mode.SUBTRACT)

    # Fusion014: union array_cone_hole_fastern002
    add(array_cone_hole_fastern002_2.part)

    # Fusion015: union array_cyl_hole_fastern003
    add(array_cyl_hole_fastern003_2.part)

    # Cut019: cut array_cyl_hole_fastern004
    add(array_cyl_hole_fastern004_2.part, mode=Mode.SUBTRACT)


with BuildPart() as bottom_case_finished:
    # Box019 → Box019 (new body)
    with BuildSketch(Plane(origin=(-2, 0, 0), x_dir=(1, 0, 0), z_dir=(0, 0, 1))):
        with Locations((6, 49)):
            Rectangle(BOX019_W, BOX019_H)
    extrude(amount=BOX019_DEPTH)

    # Array023 X: bottom_case_finished ×2


with BuildPart() as bottom_case_finished_1:
    add(bottom_case_finished.part)
    with Locations(*[(i * ARRAY023_X_PITCH, 0, 0) for i in range(1, ARRAY023_X_COUNT)]):
        add(bottom_case_finished.part)

    # Fusion016: union Cut019
    add(cut019_1.part)

    # Cut020: cut Array024
    add(array024_2.part, mode=Mode.SUBTRACT)

    # Cut021: cut Array025
    add(array025_2.part, mode=Mode.SUBTRACT)

    # Cut022: cut array_cyl_hole_fastern003
    add(array_cyl_hole_fastern003_2.part, mode=Mode.SUBTRACT)

    # Cut023: cut Array026
    add(array026_2.part, mode=Mode.SUBTRACT)

    # Cut025: cut Array028
    add(array028_2.part, mode=Mode.SUBTRACT)

    # Cut026: cut Array029
    add(array029_2.part, mode=Mode.SUBTRACT)


with BuildPart() as cut027:
    # Cylinder023 → Cylinder023 (new body)
    with BuildSketch(Plane(origin=(15.8956, 9.8956, 0), x_dir=(1, 0, 0), z_dir=(0, 0, 1))):
        Circle(CYLINDER023_R)
    extrude(amount=CYLINDER023_DEPTH)

    # Array030 X: Cut027 ×2


with BuildPart() as cut027_1:
    add(cut027.part)
    with Locations(*[(i * ARRAY030_X_PITCH, 0, 0) for i in range(1, ARRAY030_X_COUNT)]):
        add(cut027.part)

    # Array030 Y: Cut027 ×2


with BuildPart() as cut027_2:
    add(cut027_1.part)
    with Locations(*[(0, i * ARRAY030_Y_PITCH, 0) for i in range(1, ARRAY030_Y_COUNT)]):
        add(cut027_1.part)

    # Fusion017: union bottom_case_finished
    add(bottom_case_finished_1.part)

    # Cut027: cut array_holes_PCB_bottom_case001
    add(array_holes_pcb_bottom_case001_2.part, mode=Mode.SUBTRACT)


with BuildPart() as cube_fix003:
    # Box020 → Box020 (new body)
    with BuildSketch(Plane(origin=(-4, 98.36, 0), x_dir=(1, 0, 0), z_dir=(0, 0, 1))):
        with Locations((7, 4.5)):
            Rectangle(BOX020_W, BOX020_H)
    extrude(amount=BOX020_DEPTH)


with BuildPart() as fusion020:
    # Cylinder027 → Cylinder027 (new body)
    with BuildSketch(Plane(origin=(3, 107.36, 0), x_dir=(1, 0, 0), z_dir=(0, 0, 1))):
        Circle(CYLINDER027_R)
    extrude(amount=CYLINDER027_DEPTH)

    # Fusion018: union cube_fix003
    add(cube_fix003.part)

    # Array034 X: Fusion020 ×2


with BuildPart() as fusion020_1:
    add(fusion020.part)
    with Locations(*[(i * ARRAY034_X_PITCH, 0, 0) for i in range(1, ARRAY034_X_COUNT)]):
        add(fusion020.part)

    # Fusion020: union Cut027
    add(cut027_2.part)


with BuildPart() as cube_fix004:
    # Box021 → Box021 (new body)
    with BuildSketch(Plane(origin=(-4, -7, 0), x_dir=(1, 0, 0), z_dir=(0, 0, 1))):
        with Locations((7, 4.5)):
            Rectangle(BOX021_W, BOX021_H)
    extrude(amount=BOX021_DEPTH)


with BuildPart() as bottom_case_holes:
    # Cylinder028 → Cylinder028 (new body)
    with BuildSketch(Plane(origin=(3, -7, 0), x_dir=(1, 0, 0), z_dir=(0, 0, 1))):
        Circle(CYLINDER028_R)
    extrude(amount=CYLINDER028_DEPTH)

    # Fusion019: union cube_fix004
    add(cube_fix004.part)

    # Array035 X: bottom_case_holes ×2


with BuildPart() as bottom_case_holes_1:
    add(bottom_case_holes.part)
    with Locations(*[(i * ARRAY035_X_PITCH, 0, 0) for i in range(1, ARRAY035_X_COUNT)]):
        add(bottom_case_holes.part)

    # Fusion021: union Fusion020
    add(fusion020_1.part)

    # Cut028: cut array_cyl_hole_fastern006
    add(array_cyl_hole_fastern006_2.part, mode=Mode.SUBTRACT)

    # Cut029: cut array_cyl_hole_fastern005
    add(array_cyl_hole_fastern005_2.part, mode=Mode.SUBTRACT)

    # Cut030: cut Cube001
    add(cube001.part, mode=Mode.SUBTRACT)


with BuildPart() as fusion022:
    # Cylinder029 → Cylinder029 (new body)
    with BuildSketch(Plane(origin=(15.8956, 9.8956, 0), x_dir=(1, 0, 0), z_dir=(0, 0, 1))):
        Circle(CYLINDER029_R)
    extrude(amount=CYLINDER029_DEPTH)

    # Array036 X: Fusion022 ×2


with BuildPart() as fusion022_1:
    add(fusion022.part)
    with Locations(*[(i * ARRAY036_X_PITCH, 0, 0) for i in range(1, ARRAY036_X_COUNT)]):
        add(fusion022.part)

    # Array036 Y: Fusion022 ×2


with BuildPart() as fusion022_2:
    add(fusion022_1.part)
    with Locations(*[(0, i * ARRAY036_Y_PITCH, 0) for i in range(1, ARRAY036_Y_COUNT)]):
        add(fusion022_1.part)

    # Fusion022: union bottom_case_holes
    add(bottom_case_holes_1.part)


with BuildPart() as bottom_case_sticks:
    # Cylinder030 → Cylinder030 (new body)
    with BuildSketch(Plane(origin=(15.8956, 11.8956, 0), x_dir=(1, 0, 0), z_dir=(0, 0, 1))):
        Circle(CYLINDER030_R)
    extrude(amount=CYLINDER030_DEPTH)

    # Array037 X: bottom_case_sticks ×2


with BuildPart() as bottom_case_sticks_1:
    add(bottom_case_sticks.part)
    with Locations(*[(i * ARRAY037_X_PITCH, 0, 0) for i in range(1, ARRAY037_X_COUNT)]):
        add(bottom_case_sticks.part)

    # Array037 Y: bottom_case_sticks ×2


with BuildPart() as bottom_case_sticks_2:
    add(bottom_case_sticks_1.part)
    with Locations(*[(0, i * ARRAY037_Y_PITCH, 0) for i in range(1, ARRAY037_Y_COUNT)]):
        add(bottom_case_sticks_1.part)

    # Fusion023: union Fusion022
    add(fusion022_2.part)


with BuildPart() as cut035:
    # Cone006 → Cone006 (revolve)
    with BuildSketch(Plane(origin=(15.8956, 11.8956, 14), x_dir=(1, 0, 0), z_dir=(0, -1, 0))):
        Polygon((0, 0), (0.75, 0), (0.1, 2), (0, 2), align=None)
    revolve(axis=Axis((15.8956, 11.8956, 14), (0, 0, 1)))

    # Array038 X: Cut035 ×2


with BuildPart() as cut035_1:
    add(cut035.part)
    with Locations(*[(i * ARRAY038_X_PITCH, 0, 0) for i in range(1, ARRAY038_X_COUNT)]):
        add(cut035.part)

    # Array038 Y: Cut035 ×2


with BuildPart() as cut035_2:
    add(cut035_1.part)
    with Locations(*[(0, i * ARRAY038_Y_PITCH, 0) for i in range(1, ARRAY038_Y_COUNT)]):
        add(cut035_1.part)

    # Fusion024: union bottom_case_sticks
    add(bottom_case_sticks_2.part)

    # Cut032: cut Array039
    add(array039_2.part, mode=Mode.SUBTRACT)

    # Cut033: cut Array040
    add(array040_2.part, mode=Mode.SUBTRACT)

    # Cut034: cut Cube002
    add(cube002.part, mode=Mode.SUBTRACT)

    # Cut035: cut array_holes_PCB_bottom_case004
    add(array_holes_pcb_bottom_case004_2.part, mode=Mode.SUBTRACT)


solid = cut035_2.part
